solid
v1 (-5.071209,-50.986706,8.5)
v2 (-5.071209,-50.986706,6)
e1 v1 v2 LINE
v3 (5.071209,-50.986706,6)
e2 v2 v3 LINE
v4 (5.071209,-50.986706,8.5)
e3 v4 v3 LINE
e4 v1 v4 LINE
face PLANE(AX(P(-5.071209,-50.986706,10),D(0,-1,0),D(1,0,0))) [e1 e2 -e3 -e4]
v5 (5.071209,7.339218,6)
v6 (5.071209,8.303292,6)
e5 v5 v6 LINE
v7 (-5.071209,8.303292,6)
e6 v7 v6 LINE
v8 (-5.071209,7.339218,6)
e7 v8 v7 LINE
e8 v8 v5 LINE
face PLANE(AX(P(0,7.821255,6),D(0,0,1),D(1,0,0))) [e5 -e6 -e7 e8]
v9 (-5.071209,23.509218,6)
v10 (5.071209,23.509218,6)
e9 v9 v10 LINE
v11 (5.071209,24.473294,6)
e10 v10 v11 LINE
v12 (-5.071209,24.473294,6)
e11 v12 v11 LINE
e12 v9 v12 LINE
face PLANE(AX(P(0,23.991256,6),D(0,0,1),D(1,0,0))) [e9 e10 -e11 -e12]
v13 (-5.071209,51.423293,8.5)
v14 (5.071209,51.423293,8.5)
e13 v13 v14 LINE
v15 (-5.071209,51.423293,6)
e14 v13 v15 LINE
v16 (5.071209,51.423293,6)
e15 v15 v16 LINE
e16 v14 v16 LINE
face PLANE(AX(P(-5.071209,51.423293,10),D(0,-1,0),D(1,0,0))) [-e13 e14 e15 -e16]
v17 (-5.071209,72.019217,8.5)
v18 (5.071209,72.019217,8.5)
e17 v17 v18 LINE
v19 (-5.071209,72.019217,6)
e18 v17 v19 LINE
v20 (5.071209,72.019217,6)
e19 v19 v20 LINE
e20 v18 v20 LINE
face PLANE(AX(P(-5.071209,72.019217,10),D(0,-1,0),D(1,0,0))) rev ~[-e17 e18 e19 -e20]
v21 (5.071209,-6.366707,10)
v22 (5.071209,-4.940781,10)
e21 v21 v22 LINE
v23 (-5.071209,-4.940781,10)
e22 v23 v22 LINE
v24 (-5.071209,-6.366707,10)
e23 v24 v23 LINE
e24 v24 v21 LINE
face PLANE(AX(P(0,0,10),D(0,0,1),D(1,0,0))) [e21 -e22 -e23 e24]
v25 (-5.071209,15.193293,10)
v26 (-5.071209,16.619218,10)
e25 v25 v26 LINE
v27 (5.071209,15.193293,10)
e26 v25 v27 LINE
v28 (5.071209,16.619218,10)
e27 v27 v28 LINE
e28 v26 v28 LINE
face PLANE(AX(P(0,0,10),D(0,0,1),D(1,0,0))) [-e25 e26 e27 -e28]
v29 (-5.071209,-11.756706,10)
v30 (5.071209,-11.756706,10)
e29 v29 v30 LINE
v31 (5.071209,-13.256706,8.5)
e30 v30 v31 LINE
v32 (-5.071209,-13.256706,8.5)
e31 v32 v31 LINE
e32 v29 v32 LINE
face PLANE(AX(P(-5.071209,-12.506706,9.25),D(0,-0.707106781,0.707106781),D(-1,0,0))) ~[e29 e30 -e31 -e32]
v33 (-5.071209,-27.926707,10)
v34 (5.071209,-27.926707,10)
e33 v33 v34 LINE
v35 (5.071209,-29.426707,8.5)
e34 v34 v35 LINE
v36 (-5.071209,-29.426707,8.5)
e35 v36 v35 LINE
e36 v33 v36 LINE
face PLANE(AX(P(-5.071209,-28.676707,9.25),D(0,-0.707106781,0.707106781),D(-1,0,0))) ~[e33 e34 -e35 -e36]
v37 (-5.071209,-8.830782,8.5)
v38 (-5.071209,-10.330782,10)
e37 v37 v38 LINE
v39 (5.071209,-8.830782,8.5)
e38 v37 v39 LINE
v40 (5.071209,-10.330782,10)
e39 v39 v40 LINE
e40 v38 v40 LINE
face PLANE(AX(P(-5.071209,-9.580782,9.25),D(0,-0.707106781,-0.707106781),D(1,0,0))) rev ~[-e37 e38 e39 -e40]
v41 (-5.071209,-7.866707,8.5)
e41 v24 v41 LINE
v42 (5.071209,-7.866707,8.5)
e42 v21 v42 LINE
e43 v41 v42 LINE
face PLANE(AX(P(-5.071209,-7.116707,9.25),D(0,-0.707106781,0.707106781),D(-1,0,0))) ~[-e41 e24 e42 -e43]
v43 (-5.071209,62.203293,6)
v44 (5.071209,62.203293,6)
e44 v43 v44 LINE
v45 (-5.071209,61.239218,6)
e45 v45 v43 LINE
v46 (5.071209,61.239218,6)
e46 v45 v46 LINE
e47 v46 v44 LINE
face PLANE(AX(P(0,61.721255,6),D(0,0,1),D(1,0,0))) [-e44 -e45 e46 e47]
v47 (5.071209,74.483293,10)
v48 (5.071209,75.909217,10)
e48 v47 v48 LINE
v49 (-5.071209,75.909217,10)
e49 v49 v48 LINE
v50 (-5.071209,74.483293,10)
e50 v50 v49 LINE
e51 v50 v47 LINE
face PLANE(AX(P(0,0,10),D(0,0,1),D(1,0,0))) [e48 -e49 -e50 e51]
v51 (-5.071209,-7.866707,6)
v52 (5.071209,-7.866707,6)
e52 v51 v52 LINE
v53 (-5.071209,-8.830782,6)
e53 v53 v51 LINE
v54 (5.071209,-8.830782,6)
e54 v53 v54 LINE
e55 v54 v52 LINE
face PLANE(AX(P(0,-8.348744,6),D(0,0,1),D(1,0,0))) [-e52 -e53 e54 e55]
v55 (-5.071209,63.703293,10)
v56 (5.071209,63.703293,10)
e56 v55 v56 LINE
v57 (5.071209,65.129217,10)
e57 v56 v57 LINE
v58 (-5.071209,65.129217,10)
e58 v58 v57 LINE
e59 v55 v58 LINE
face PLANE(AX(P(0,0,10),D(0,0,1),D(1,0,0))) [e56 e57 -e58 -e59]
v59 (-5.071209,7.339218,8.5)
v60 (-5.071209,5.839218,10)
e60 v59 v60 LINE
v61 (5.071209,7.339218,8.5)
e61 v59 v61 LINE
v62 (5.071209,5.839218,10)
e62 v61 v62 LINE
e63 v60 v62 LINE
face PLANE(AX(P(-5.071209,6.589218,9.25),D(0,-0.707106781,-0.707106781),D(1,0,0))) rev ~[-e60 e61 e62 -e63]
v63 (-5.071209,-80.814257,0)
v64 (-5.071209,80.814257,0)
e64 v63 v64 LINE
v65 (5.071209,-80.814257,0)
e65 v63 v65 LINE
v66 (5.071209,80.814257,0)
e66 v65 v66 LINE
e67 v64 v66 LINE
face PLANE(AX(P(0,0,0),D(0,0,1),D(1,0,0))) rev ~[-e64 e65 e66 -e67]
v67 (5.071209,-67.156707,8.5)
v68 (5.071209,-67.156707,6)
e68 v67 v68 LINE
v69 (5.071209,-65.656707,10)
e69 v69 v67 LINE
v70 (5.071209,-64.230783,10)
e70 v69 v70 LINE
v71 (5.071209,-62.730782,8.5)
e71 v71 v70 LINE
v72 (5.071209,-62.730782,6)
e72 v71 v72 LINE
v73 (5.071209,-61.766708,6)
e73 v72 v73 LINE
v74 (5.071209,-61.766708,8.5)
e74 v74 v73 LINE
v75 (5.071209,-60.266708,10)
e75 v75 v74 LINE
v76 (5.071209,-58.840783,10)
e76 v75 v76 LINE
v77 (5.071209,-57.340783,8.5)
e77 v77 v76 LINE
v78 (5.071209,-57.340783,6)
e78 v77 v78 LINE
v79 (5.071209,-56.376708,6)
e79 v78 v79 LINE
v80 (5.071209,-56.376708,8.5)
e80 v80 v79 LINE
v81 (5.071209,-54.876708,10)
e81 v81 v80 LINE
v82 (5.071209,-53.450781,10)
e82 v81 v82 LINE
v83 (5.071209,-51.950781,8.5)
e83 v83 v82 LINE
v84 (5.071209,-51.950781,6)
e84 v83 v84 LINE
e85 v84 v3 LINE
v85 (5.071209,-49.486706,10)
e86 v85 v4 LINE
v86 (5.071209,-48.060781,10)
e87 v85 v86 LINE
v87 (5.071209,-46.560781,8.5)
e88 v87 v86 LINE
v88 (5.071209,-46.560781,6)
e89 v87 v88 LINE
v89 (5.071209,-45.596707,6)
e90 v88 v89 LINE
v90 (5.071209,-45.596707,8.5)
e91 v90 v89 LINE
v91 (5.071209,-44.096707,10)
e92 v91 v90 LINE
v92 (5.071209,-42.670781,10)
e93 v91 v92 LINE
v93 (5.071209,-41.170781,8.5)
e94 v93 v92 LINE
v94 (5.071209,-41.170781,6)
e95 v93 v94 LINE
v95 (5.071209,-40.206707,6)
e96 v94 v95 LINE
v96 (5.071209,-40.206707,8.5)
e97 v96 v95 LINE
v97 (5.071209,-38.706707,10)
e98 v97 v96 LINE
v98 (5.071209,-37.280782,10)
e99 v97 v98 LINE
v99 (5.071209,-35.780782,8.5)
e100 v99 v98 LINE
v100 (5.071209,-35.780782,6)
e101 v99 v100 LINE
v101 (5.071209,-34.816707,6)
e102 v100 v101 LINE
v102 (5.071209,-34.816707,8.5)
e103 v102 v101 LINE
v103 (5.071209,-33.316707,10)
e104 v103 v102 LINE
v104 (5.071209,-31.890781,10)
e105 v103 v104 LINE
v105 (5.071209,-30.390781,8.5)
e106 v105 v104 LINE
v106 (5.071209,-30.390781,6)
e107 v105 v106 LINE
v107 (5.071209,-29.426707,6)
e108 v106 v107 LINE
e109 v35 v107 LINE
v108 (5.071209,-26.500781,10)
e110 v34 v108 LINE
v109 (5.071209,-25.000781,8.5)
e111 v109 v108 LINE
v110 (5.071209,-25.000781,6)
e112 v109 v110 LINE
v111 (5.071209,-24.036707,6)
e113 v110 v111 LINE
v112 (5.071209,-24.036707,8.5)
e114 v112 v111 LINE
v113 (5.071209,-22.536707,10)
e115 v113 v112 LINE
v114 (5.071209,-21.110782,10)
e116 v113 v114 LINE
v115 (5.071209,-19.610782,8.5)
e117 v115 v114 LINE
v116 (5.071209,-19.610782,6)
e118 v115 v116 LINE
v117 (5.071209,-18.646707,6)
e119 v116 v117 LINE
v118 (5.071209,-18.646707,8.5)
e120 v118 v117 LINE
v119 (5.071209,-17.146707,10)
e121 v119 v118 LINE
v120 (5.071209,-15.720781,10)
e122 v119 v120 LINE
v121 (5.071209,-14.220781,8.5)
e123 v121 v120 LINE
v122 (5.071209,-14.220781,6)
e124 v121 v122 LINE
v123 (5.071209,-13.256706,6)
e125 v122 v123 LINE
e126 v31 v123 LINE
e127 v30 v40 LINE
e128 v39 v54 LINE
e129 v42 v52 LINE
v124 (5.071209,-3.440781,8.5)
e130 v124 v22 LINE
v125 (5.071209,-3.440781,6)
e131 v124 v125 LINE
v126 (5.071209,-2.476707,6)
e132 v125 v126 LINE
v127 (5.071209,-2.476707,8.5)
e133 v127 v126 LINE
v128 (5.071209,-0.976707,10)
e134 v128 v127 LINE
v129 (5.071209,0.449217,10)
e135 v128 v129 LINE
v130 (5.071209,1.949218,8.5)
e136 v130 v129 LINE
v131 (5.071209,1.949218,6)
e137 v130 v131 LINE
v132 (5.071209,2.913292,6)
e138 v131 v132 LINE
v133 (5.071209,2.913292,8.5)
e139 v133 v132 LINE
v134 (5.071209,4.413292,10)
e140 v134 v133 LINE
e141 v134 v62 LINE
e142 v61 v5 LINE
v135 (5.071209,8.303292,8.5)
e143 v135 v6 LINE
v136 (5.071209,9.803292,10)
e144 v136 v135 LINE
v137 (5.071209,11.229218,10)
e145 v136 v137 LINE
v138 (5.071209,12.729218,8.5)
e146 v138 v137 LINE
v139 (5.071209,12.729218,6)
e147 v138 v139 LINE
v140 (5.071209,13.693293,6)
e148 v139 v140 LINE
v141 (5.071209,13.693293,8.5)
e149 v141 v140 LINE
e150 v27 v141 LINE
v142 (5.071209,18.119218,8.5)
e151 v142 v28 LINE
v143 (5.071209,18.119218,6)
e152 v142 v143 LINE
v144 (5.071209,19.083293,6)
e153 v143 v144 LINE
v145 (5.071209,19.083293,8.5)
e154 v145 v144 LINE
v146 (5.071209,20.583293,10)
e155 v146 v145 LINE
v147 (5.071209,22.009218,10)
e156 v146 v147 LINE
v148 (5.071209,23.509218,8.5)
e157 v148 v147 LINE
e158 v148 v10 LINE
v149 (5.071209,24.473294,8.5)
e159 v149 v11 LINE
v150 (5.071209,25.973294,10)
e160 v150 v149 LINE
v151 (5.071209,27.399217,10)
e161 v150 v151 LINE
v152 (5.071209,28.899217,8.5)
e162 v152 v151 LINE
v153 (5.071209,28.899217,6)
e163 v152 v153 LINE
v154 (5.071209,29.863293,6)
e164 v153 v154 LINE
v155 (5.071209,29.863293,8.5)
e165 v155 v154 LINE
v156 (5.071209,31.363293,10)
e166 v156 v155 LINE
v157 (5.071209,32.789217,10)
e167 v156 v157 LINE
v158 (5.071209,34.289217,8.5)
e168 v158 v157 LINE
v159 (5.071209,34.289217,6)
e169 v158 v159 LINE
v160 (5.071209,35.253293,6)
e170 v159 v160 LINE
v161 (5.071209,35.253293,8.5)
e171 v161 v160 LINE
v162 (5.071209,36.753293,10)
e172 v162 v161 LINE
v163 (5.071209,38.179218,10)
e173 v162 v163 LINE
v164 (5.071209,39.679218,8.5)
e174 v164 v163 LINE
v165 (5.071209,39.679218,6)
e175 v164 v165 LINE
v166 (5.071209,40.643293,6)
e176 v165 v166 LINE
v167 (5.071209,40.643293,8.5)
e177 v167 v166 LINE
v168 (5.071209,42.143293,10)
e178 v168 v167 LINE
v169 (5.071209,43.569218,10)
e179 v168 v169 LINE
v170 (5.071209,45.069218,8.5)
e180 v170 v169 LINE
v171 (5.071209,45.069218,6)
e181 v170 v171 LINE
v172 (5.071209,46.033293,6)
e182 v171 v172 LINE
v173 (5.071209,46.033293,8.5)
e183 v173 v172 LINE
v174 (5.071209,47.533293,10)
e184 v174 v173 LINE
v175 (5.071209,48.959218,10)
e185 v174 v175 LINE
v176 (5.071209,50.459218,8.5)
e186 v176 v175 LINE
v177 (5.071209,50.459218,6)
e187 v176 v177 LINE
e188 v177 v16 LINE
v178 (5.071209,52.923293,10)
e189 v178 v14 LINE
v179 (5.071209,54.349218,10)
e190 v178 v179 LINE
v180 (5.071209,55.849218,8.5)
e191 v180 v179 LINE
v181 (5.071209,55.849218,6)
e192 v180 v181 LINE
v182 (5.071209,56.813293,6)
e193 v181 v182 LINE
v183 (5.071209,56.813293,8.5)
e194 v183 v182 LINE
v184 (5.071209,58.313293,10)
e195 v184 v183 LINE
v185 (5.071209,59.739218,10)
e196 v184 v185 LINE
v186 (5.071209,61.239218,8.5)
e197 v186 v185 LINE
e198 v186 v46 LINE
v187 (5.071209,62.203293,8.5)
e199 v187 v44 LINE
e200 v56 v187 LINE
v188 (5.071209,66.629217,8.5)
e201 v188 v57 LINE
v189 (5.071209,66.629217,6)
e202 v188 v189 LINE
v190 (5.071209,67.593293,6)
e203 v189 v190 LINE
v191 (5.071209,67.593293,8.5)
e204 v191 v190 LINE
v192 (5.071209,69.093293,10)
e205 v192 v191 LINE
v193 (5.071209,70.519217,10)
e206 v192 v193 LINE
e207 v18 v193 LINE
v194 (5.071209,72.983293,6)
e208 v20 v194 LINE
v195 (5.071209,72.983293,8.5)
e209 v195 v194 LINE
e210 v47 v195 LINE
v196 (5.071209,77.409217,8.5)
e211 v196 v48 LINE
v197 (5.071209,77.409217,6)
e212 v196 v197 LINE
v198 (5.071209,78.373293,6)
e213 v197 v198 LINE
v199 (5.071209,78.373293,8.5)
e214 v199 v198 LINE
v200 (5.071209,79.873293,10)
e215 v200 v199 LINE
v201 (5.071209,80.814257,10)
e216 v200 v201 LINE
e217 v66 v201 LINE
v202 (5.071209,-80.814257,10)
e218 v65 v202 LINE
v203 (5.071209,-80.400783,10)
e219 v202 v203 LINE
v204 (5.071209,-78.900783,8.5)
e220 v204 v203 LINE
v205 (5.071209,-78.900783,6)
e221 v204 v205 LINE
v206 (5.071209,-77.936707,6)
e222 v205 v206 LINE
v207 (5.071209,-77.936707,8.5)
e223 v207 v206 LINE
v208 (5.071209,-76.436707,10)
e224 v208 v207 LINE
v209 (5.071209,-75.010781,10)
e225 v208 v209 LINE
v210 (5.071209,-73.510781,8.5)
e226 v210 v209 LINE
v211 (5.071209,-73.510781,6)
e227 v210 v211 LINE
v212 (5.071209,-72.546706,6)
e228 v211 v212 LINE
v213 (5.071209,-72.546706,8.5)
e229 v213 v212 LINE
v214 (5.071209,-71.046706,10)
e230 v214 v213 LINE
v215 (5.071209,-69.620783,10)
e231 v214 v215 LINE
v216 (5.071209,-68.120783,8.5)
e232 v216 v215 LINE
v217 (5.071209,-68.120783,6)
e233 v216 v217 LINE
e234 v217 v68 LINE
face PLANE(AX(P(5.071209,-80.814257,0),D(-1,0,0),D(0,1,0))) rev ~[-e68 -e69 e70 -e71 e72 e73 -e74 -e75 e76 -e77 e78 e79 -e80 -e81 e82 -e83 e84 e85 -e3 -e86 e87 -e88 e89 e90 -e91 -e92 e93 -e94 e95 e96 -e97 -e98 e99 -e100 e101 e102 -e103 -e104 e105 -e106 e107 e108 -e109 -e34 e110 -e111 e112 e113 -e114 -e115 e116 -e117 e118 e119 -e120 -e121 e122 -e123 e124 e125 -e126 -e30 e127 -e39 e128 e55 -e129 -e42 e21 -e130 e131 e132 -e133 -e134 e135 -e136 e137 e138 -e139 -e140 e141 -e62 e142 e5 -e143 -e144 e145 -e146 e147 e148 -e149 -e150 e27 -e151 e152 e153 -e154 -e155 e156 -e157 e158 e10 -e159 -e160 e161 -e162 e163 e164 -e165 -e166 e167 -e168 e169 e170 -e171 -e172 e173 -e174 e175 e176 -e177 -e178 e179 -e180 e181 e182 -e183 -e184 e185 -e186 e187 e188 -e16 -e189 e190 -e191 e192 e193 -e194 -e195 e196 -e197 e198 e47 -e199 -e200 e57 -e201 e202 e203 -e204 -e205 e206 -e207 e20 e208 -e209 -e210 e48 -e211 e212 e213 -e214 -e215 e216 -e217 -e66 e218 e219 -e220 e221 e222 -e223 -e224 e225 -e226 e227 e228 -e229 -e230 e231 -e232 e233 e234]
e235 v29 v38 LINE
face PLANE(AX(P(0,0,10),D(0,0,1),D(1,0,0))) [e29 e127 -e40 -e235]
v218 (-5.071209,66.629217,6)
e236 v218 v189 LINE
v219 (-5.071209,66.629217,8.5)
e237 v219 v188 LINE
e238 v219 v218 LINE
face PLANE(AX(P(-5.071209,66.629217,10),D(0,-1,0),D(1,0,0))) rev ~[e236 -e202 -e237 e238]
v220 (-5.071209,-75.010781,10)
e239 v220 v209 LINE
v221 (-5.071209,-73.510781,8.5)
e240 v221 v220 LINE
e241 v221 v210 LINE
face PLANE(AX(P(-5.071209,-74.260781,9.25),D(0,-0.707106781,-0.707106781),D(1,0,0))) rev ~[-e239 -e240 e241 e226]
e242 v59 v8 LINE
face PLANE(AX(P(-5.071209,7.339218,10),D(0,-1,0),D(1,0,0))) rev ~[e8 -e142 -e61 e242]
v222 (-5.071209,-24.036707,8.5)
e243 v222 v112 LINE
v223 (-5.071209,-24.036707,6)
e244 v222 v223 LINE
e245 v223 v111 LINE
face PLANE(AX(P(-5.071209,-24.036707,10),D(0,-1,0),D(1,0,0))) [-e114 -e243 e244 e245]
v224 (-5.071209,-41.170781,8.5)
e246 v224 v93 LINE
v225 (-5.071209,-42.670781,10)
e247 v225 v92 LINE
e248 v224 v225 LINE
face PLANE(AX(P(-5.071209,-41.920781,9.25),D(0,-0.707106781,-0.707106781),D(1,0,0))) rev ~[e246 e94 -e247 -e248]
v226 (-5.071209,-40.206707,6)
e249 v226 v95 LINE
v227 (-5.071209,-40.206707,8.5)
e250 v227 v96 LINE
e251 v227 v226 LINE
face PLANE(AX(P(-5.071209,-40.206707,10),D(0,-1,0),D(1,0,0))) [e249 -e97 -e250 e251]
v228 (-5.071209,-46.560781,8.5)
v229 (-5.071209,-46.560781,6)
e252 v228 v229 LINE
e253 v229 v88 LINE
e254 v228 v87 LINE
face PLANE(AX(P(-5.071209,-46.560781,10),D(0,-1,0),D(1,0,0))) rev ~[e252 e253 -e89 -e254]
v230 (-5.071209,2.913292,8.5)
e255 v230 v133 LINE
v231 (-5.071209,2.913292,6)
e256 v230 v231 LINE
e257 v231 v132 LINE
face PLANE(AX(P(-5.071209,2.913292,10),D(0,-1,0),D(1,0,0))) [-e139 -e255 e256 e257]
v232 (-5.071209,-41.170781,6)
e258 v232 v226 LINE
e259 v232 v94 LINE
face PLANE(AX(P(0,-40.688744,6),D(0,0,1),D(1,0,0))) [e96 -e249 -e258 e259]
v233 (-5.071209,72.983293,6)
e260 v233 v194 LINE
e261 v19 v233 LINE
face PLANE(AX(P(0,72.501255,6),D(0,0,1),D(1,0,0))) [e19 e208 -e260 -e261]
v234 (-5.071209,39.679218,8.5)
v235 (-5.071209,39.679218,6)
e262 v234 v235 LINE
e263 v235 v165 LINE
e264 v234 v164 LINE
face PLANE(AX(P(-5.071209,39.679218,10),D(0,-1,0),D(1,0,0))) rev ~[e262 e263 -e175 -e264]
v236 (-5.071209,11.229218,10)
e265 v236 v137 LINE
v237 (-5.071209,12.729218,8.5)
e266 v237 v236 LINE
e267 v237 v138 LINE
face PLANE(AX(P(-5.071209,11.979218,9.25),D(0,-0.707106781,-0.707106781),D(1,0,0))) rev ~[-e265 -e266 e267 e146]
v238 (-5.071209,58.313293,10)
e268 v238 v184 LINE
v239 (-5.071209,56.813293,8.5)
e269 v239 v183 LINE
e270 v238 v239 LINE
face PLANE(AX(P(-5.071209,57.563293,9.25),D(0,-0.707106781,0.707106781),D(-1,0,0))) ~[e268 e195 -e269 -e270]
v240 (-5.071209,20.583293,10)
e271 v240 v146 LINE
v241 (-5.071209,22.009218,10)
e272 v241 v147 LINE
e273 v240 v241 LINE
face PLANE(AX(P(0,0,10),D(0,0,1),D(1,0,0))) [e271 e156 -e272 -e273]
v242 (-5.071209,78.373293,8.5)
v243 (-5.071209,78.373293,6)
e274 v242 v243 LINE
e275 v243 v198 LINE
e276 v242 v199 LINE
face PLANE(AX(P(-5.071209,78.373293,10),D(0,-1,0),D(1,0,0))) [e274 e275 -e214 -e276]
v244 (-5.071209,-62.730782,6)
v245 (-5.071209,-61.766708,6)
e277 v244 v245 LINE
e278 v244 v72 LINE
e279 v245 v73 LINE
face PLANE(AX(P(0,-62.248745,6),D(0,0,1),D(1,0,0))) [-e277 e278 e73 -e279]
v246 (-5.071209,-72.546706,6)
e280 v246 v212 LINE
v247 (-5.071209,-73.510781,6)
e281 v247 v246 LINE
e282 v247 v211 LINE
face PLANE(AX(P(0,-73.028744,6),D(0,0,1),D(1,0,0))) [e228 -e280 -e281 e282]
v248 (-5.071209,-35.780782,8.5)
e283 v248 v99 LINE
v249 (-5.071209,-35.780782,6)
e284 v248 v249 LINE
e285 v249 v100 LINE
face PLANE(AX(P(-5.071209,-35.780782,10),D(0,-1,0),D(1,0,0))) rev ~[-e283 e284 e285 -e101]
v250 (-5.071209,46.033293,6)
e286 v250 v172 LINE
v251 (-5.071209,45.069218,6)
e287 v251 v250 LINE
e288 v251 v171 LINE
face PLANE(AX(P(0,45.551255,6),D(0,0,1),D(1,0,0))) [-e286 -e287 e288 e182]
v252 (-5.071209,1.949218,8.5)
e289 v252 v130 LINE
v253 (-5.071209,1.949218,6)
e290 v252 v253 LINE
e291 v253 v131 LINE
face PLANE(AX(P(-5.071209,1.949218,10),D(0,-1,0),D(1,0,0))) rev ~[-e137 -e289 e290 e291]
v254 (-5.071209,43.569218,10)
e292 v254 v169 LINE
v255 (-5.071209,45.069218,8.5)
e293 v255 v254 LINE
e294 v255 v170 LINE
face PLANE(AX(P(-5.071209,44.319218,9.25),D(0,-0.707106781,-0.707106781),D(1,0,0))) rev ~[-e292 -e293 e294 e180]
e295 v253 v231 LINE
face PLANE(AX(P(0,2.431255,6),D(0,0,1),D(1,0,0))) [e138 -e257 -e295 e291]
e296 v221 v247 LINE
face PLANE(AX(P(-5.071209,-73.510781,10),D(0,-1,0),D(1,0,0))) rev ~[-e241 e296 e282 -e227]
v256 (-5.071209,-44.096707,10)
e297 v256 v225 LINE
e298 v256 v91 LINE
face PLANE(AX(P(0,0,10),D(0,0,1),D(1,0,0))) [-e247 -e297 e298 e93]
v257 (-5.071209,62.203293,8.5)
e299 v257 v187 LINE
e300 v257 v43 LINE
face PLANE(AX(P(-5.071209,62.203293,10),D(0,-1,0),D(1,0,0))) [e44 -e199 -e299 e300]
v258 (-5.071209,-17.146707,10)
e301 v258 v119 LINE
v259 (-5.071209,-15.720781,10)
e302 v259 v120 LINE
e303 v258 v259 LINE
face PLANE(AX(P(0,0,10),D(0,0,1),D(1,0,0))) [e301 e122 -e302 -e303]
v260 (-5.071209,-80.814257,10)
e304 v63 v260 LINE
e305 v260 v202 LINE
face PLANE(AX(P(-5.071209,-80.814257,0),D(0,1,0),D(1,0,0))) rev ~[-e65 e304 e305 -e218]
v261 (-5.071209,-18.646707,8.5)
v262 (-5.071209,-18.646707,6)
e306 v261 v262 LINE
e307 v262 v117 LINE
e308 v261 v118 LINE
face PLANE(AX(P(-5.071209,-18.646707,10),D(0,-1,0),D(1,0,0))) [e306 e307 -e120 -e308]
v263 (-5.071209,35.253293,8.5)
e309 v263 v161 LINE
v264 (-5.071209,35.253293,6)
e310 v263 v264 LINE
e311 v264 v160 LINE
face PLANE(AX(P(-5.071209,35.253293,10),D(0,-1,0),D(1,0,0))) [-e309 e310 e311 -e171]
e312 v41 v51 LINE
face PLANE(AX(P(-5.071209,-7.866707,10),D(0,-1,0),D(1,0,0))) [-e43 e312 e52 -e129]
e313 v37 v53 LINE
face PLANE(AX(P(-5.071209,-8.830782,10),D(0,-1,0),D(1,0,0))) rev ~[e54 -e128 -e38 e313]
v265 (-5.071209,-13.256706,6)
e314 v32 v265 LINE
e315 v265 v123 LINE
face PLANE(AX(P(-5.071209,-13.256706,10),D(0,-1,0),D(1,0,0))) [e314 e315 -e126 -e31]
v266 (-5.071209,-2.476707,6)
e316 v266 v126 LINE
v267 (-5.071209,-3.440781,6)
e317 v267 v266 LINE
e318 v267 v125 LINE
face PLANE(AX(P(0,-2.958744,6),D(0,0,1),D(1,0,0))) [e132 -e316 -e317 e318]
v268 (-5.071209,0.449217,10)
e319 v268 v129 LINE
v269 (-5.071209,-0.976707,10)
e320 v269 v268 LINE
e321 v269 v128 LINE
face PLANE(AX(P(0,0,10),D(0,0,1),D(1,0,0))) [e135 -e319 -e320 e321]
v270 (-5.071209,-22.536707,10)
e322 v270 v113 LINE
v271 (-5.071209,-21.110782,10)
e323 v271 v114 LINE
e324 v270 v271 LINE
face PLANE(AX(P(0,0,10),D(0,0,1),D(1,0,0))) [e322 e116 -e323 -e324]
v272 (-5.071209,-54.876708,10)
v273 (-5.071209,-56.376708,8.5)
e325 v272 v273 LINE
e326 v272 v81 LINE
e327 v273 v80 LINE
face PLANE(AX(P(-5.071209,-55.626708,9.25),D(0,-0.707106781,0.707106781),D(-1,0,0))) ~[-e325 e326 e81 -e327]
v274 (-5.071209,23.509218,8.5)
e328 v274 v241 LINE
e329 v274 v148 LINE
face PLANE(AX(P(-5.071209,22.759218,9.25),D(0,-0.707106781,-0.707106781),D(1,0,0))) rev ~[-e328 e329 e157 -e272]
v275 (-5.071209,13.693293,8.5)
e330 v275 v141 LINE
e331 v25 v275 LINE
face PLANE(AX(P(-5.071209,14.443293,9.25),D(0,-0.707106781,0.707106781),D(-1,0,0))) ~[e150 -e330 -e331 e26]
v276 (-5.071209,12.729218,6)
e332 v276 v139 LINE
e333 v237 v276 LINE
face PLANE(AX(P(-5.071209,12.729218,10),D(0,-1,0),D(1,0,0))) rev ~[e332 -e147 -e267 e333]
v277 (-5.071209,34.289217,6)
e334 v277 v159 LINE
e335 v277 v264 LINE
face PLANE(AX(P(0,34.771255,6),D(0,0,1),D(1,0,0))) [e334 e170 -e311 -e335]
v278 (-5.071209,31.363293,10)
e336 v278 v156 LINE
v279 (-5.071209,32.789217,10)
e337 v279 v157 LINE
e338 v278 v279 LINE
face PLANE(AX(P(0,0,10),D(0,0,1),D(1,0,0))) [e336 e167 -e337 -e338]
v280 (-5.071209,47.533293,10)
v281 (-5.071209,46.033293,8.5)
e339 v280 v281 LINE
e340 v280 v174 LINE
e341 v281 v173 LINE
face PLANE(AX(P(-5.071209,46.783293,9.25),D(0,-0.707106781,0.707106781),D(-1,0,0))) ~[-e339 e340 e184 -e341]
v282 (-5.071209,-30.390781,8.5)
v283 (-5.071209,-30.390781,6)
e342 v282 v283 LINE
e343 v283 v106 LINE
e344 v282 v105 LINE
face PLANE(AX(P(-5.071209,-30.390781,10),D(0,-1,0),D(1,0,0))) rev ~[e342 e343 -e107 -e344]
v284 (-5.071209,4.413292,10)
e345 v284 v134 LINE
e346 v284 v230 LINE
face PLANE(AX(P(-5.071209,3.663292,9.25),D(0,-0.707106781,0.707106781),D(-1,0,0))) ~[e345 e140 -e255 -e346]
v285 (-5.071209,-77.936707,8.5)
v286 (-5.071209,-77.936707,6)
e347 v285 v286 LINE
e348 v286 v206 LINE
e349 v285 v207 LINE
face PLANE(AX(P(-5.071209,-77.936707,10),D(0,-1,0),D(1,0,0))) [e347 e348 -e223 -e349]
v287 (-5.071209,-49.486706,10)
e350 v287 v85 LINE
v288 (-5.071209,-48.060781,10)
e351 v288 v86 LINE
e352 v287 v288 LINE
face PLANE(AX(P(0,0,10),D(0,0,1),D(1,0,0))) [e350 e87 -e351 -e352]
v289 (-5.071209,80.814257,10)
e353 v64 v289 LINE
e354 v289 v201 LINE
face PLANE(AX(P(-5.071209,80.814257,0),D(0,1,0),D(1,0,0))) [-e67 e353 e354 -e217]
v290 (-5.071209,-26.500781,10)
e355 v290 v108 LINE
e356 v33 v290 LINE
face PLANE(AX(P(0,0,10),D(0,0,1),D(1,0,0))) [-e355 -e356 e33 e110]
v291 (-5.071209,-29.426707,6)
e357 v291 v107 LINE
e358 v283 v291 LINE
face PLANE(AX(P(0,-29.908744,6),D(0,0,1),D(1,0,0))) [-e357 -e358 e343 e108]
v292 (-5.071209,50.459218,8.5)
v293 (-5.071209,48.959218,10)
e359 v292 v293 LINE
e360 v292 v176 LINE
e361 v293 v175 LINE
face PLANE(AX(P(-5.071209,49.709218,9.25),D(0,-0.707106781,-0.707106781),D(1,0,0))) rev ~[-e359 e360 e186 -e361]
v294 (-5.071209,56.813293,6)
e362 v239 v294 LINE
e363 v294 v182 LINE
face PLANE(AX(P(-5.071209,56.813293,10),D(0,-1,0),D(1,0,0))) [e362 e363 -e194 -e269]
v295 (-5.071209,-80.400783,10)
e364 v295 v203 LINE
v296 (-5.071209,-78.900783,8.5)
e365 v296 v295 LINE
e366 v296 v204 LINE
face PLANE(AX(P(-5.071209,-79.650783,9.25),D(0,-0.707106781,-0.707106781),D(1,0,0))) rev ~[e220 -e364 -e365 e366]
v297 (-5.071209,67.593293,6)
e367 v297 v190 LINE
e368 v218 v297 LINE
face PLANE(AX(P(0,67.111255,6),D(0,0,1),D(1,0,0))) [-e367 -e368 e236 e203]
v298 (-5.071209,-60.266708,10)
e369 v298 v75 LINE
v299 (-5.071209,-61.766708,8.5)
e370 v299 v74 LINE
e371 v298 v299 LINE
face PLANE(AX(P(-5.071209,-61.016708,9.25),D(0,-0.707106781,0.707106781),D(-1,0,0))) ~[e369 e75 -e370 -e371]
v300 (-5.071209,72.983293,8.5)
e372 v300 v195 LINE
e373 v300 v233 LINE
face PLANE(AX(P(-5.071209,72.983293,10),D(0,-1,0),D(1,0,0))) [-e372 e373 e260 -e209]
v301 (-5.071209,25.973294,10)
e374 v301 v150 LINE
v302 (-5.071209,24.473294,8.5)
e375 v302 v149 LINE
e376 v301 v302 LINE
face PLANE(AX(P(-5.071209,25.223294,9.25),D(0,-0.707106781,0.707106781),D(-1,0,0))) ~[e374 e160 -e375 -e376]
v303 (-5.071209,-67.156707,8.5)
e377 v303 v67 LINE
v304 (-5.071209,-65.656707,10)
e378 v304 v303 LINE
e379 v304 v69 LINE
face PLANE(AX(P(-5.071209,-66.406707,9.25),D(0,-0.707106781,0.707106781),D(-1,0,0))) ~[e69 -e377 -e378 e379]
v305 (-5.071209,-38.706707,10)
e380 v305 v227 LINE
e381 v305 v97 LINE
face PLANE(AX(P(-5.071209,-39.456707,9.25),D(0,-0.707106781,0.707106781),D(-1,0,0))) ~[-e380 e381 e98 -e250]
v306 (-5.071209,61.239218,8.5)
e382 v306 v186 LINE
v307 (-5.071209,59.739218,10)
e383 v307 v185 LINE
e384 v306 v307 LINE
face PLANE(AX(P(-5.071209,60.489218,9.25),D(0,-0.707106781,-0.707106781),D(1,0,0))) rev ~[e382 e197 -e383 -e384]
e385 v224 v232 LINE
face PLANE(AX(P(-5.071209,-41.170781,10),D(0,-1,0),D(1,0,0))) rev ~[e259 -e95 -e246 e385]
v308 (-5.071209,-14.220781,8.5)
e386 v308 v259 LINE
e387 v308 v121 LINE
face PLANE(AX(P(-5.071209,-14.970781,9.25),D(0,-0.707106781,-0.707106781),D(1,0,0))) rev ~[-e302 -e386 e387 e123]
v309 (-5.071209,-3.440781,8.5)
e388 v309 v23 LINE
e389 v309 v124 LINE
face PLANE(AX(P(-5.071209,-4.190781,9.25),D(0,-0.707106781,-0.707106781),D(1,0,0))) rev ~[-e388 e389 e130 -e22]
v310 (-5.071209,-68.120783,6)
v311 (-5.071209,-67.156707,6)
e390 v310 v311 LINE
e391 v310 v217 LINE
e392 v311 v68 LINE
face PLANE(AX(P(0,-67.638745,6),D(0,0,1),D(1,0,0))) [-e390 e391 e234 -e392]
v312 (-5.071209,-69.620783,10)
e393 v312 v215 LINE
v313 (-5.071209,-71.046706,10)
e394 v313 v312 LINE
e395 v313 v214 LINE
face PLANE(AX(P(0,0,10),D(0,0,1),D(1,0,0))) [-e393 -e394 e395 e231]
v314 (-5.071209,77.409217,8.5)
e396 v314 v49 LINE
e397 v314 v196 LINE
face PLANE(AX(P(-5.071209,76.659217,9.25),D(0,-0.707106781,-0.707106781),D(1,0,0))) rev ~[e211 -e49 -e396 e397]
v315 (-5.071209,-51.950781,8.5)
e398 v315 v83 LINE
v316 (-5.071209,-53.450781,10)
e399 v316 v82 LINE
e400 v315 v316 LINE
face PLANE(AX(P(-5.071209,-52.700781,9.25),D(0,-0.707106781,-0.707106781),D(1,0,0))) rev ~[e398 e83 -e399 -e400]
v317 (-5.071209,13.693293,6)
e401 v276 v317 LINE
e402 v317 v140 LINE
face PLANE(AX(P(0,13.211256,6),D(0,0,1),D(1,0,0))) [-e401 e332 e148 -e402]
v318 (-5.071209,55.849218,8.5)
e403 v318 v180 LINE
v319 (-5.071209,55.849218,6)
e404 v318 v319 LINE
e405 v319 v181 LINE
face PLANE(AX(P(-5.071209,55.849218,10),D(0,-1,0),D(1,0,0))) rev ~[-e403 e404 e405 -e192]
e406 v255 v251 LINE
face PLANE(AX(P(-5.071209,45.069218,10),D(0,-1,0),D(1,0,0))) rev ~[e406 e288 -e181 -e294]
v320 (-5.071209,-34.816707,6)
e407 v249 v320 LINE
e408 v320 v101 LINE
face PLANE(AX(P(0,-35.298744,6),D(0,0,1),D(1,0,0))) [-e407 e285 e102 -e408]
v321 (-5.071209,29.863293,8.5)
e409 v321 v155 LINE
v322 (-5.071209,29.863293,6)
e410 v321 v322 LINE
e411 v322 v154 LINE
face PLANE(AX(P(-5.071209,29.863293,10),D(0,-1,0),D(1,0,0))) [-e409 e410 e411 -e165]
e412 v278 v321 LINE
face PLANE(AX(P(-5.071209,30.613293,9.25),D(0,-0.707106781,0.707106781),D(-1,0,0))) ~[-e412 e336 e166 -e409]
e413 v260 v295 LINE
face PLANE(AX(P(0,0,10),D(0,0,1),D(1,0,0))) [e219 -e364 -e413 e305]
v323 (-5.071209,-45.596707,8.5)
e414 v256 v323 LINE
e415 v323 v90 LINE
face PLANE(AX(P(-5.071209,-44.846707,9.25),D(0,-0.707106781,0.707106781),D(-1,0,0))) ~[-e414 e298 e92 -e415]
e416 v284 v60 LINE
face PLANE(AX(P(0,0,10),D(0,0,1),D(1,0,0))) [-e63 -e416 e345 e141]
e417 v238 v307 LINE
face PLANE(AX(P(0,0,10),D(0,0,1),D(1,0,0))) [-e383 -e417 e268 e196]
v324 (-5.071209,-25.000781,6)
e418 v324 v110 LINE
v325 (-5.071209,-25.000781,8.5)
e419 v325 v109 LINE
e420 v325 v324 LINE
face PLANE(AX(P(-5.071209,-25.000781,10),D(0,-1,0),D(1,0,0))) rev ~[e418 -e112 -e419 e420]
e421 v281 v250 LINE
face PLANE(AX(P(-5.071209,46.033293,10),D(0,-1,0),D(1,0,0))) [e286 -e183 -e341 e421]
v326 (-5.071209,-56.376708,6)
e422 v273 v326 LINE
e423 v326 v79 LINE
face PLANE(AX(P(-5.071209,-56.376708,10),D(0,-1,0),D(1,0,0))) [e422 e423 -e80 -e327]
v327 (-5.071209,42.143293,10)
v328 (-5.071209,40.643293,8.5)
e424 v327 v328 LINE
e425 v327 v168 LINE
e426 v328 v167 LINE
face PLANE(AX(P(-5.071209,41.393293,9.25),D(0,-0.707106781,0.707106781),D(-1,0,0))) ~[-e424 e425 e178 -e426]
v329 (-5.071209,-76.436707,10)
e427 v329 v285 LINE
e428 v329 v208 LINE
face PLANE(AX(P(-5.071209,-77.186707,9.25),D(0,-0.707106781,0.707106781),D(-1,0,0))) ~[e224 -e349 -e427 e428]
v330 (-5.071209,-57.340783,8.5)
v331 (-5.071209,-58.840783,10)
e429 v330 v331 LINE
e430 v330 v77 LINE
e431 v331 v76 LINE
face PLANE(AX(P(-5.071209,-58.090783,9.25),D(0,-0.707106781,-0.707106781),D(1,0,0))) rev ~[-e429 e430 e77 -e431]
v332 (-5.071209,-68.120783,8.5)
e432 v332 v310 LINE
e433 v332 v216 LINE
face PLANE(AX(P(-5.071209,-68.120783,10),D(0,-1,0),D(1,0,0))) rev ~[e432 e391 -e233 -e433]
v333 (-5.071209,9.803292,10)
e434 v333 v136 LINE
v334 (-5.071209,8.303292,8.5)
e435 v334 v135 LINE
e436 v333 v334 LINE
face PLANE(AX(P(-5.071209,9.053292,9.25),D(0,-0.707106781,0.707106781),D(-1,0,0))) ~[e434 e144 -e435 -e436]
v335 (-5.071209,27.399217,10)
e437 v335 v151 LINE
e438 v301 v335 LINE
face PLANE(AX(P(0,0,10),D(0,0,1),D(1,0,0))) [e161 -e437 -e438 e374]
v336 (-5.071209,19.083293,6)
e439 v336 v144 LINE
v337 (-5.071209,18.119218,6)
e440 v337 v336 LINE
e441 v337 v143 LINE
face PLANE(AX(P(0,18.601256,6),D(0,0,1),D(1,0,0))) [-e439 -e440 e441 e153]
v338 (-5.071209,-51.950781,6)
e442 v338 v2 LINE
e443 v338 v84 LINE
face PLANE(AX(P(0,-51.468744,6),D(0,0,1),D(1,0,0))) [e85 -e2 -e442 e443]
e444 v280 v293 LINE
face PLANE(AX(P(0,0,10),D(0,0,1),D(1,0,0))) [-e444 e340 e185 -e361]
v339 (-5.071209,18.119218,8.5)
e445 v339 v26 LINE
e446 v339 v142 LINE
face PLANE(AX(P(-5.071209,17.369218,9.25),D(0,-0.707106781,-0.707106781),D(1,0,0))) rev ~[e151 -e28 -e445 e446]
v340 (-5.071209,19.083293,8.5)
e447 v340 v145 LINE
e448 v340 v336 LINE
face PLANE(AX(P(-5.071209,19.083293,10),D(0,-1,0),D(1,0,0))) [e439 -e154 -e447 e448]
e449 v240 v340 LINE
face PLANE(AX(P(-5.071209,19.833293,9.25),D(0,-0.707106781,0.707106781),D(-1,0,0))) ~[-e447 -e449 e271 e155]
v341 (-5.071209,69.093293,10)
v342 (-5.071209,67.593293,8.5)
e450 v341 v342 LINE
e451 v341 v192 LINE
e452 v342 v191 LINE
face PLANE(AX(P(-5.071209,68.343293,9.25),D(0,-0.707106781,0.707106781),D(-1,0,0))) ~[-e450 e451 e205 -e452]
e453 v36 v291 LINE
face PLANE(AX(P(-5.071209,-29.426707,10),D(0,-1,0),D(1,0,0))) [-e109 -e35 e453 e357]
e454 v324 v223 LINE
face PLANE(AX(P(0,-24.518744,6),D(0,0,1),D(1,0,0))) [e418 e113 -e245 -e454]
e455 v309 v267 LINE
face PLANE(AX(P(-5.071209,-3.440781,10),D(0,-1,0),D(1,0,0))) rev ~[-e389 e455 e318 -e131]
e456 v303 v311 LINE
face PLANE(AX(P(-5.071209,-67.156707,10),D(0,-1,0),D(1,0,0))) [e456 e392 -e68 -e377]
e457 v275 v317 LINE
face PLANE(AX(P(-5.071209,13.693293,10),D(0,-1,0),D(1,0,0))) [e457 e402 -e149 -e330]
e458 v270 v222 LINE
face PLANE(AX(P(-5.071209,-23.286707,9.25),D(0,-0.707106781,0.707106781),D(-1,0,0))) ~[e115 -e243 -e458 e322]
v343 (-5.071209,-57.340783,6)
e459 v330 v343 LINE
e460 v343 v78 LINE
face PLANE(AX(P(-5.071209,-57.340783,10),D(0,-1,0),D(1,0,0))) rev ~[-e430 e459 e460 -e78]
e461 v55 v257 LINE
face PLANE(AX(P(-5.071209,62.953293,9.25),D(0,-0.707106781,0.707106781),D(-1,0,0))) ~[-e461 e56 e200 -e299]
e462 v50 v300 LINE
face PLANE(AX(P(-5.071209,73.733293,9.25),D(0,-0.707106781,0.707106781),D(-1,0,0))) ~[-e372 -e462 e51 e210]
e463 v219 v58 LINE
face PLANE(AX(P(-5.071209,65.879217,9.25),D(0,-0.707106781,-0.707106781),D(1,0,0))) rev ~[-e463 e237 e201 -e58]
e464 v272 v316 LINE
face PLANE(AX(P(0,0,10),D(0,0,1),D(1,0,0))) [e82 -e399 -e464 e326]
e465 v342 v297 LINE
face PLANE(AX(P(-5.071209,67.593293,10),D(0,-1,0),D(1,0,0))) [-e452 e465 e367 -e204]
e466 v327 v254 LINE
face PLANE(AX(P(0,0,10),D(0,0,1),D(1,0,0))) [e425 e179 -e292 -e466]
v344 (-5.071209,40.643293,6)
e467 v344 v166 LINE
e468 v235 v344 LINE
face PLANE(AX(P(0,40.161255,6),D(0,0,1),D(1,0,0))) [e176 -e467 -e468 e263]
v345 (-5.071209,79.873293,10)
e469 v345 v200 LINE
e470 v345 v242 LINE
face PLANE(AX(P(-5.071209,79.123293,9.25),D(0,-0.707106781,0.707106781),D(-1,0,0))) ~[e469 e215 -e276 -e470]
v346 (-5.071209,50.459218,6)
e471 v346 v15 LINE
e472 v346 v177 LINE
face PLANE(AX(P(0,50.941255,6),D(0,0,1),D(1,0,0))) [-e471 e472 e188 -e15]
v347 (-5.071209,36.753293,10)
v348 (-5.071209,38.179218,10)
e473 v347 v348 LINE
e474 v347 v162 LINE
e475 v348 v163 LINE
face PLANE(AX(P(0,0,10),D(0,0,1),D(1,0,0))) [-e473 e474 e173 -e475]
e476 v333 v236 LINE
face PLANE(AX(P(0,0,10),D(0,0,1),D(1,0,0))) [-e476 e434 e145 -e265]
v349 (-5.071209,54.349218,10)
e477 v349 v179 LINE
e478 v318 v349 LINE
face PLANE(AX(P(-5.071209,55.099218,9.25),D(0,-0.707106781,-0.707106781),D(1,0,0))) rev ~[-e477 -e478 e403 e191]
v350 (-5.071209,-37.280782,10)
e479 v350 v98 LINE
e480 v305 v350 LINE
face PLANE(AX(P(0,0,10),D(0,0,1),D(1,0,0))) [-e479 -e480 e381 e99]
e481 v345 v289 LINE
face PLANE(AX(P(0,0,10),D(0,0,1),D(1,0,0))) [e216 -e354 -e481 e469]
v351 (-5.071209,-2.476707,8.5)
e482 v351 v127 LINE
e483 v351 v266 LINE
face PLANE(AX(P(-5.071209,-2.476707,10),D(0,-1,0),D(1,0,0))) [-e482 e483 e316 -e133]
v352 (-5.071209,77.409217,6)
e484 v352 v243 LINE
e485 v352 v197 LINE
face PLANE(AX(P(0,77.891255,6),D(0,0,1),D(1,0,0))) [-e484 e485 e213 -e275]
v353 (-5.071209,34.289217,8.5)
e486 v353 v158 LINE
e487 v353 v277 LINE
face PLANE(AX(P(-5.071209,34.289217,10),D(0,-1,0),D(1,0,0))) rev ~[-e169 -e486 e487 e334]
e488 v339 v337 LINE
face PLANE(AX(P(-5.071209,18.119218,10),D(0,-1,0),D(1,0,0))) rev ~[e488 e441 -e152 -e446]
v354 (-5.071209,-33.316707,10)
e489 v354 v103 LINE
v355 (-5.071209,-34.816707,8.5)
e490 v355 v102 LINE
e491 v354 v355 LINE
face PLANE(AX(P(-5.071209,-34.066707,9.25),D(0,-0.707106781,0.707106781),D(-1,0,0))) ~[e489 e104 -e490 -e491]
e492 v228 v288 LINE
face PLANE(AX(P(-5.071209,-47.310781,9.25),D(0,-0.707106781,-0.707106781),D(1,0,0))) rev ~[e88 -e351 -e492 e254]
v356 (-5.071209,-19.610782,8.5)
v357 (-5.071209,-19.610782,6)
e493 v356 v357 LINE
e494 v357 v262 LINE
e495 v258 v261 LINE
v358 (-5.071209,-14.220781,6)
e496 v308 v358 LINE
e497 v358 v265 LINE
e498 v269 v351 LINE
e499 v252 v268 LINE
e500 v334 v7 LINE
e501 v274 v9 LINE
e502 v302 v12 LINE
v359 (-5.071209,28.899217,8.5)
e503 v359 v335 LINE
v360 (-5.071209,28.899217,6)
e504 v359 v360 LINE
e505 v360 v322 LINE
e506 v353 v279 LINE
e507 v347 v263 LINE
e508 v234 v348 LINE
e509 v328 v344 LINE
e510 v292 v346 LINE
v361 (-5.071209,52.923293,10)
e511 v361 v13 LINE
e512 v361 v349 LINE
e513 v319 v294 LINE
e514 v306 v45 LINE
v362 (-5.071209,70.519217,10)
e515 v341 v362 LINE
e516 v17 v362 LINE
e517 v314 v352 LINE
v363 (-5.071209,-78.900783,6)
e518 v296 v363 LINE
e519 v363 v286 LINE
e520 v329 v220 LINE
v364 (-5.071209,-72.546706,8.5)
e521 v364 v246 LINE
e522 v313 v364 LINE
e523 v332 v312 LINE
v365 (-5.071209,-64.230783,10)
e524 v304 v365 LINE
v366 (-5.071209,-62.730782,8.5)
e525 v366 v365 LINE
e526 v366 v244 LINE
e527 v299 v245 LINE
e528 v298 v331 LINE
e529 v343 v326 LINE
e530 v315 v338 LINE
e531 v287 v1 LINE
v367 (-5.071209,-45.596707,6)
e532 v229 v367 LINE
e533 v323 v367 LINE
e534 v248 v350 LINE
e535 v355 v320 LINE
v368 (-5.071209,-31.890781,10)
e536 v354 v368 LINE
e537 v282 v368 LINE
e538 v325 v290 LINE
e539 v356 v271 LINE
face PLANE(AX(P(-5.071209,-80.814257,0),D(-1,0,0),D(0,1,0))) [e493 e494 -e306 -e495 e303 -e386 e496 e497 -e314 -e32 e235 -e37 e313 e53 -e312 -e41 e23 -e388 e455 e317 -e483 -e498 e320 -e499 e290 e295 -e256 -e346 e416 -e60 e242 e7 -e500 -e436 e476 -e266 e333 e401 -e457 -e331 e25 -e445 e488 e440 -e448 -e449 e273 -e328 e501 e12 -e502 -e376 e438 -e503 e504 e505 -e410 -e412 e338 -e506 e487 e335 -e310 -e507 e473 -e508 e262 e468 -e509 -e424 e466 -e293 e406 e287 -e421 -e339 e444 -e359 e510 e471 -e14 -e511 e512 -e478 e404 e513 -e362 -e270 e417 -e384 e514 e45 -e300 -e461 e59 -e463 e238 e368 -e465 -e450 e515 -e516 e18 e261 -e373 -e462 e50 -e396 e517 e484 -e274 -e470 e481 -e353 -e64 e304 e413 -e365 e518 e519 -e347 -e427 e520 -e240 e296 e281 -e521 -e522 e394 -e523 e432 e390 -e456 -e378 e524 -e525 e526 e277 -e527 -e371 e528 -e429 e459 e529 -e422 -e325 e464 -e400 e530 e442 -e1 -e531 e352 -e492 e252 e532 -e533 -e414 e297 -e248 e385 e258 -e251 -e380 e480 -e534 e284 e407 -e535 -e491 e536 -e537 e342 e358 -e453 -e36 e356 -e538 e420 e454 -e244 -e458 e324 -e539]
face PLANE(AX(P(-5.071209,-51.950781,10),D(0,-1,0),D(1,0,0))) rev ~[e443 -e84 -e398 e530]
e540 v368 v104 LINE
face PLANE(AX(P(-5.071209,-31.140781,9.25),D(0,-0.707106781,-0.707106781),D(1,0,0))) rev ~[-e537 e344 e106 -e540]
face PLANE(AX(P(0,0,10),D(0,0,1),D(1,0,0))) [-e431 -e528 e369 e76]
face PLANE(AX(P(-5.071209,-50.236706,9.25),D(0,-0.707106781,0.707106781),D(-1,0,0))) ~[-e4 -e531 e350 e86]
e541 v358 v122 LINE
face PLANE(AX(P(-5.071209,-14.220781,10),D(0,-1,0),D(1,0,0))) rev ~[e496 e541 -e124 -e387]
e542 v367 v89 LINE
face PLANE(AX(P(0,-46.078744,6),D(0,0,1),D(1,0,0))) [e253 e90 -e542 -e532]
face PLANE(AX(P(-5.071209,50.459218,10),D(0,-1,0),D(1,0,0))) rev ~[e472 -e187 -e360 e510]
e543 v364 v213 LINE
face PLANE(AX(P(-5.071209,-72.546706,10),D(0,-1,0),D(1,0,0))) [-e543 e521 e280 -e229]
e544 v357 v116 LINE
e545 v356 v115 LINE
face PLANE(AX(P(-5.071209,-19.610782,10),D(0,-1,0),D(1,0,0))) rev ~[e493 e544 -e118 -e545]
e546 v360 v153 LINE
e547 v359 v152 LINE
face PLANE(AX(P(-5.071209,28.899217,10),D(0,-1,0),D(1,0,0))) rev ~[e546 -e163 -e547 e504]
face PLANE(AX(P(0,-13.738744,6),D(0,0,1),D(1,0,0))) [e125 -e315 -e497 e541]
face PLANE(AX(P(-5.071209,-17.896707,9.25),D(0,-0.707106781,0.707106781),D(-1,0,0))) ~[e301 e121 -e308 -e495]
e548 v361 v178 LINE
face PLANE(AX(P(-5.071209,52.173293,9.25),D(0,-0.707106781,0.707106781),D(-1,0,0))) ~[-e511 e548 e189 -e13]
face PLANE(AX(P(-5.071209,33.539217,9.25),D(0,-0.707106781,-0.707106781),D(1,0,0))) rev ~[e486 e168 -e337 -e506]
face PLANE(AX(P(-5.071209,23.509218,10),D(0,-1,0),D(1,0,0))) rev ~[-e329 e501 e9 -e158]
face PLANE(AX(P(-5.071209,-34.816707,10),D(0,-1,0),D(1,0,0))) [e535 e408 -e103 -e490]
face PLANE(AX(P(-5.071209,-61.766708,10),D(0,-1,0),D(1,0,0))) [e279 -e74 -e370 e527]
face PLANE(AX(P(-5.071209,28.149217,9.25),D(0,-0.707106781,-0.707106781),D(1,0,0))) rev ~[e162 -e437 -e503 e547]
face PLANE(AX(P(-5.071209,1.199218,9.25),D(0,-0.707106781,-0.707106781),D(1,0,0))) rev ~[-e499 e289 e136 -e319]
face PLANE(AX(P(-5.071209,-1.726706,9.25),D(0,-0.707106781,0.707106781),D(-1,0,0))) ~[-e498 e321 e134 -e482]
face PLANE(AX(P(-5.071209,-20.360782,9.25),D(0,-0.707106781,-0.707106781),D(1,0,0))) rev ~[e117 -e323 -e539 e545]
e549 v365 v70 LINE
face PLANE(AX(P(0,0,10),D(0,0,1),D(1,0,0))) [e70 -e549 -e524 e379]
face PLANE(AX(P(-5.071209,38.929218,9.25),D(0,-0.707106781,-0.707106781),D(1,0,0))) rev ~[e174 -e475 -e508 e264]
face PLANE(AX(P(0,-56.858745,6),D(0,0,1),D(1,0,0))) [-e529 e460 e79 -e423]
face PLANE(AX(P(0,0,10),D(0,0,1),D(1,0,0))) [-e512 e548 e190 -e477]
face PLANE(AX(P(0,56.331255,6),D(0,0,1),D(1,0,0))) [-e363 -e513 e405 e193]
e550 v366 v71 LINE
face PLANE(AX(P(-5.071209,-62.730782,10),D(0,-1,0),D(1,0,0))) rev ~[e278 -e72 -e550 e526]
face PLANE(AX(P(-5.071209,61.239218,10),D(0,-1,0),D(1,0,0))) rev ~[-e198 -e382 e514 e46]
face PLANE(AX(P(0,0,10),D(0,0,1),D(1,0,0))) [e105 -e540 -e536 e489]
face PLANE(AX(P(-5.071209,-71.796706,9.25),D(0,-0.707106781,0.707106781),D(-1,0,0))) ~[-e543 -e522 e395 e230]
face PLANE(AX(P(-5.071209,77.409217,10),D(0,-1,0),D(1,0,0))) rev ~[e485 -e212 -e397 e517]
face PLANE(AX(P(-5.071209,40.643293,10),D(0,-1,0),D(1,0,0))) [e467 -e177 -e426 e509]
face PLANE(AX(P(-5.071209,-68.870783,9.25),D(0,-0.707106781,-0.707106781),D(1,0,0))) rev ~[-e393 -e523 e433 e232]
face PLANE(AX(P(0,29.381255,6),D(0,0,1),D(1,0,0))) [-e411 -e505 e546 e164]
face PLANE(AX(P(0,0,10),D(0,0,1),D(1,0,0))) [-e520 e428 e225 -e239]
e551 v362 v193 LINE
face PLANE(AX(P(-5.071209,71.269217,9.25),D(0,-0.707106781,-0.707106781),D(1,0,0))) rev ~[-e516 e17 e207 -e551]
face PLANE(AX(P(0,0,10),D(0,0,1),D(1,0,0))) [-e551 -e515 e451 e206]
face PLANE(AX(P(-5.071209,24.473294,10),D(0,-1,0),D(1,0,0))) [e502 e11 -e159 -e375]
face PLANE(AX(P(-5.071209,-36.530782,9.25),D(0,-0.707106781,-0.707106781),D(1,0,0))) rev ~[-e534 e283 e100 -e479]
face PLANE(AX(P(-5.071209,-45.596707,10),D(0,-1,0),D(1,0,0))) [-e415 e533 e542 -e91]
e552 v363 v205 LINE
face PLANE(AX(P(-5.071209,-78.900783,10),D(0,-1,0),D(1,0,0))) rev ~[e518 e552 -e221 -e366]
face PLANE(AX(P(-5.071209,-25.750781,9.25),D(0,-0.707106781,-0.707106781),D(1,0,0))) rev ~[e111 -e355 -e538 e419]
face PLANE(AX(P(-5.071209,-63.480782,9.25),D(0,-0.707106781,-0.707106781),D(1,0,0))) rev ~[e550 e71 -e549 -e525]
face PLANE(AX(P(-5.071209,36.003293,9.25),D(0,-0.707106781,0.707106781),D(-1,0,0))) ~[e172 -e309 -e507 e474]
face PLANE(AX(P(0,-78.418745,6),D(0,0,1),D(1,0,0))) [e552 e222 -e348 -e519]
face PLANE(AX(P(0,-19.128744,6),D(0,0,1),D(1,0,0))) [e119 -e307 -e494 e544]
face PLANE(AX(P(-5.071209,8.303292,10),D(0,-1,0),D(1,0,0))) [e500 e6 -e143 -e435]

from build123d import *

# Parameters (mm, degrees)
F0_W     = 10.142418
F0_H     = 161.628514
F1_DEPTH = 10
F2_W     = 10.142418
F2_H     = 0.964075
F3_DEPTH = 4
F4_SIZE  = 1.5


with BuildPart() as f1:
    # F0 (on Top) → F1 (new body)
    with BuildSketch(Plane.XY):
        Rectangle(F0_W, F0_H)
    extrude(amount=F1_DEPTH)

    # F2 (on face) → F3 (cut)
    with BuildSketch(Plane.XY.offset(10)):
        with Locations((0, -78.418745)):
            Rectangle(F2_W, F2_H)
        with Locations((0, -73.028744)):
            Rectangle(F2_W, F2_H)
        with Locations((0, -67.638745)):
            Rectangle(F2_W, F2_H)
        with Locations((0, -62.248745)):
            Rectangle(F2_W, F2_H)
        with Locations((0, -56.858745)):
            Rectangle(F2_W, F2_H)
        with Locations((0, -51.468744)):
            Rectangle(F2_W, F2_H)
        with Locations((0, -46.078744)):
            Rectangle(F2_W, F2_H)
        with Locations((0, -40.688744)):
            Rectangle(F2_W, F2_H)
        with Locations((0, -35.298744)):
            Rectangle(F2_W, F2_H)
        with Locations((0, -29.908744)):
            Rectangle(F2_W, F2_H)
        with Locations((0, -24.518744)):
            Rectangle(F2_W, F2_H)
        with Locations((0, -19.128744)):
            Rectangle(F2_W, F2_H)
        with Locations((0, -13.738744)):
            Rectangle(F2_W, F2_H)
        with Locations((0, -8.348744)):
            Rectangle(F2_W, F2_H)
        with Locations((0, -2.958744)):
            Rectangle(F2_W, F2_H)
        with Locations((0, 2.431255)):
            Rectangle(F2_W, F2_H)
        with Locations((0, 7.821255)):
            Rectangle(F2_W, F2_H)
        with Locations((0, 13.211256)):
            Rectangle(F2_W, F2_H)
        with Locations((0, 18.601256)):
            Rectangle(F2_W, F2_H)
        with Locations((0, 23.991256)):
            Rectangle(F2_W, F2_H)
        with Locations((0, 29.381255)):
            Rectangle(F2_W, F2_H)
        with Locations((0, 34.771255)):
            Rectangle(F2_W, F2_H)
        with Locations((0, 40.161255)):
            Rectangle(F2_W, F2_H)
        with Locations((0, 45.551255)):
            Rectangle(F2_W, F2_H)
        with Locations((0, 50.941255)):
            Rectangle(F2_W, F2_H)
        with Locations((0, 56.331255)):
            Rectangle(F2_W, F2_H)
        with Locations((0, 61.721255)):
            Rectangle(F2_W, F2_H)
        with Locations((0, 67.111255)):
            Rectangle(F2_W, F2_H)
        with Locations((0, 72.501255)):
            Rectangle(F2_W, F2_H)
        with Locations((0, 77.891255)):
            Rectangle(F2_W, F2_H)
    extrude(amount=-F3_DEPTH, mode=Mode.SUBTRACT)

    # F4
    f4_edges = [f1.edges().sort_by_distance(p)[0] for p in [
        (0, -50.986707, 10),
        (0, -51.950782, 10),
        (0, -57.340782, 10),
        (0, -56.376707, 10),
        (0, -61.766707, 10),
        (0, -62.730782, 10),
        (0, -67.156707, 10),
        (0, -68.120782, 10),
        (0, -72.546707, 10),
        (0, -73.510782, 10),
        (0, -77.936707, 10),
        (0, -78.900782, 10),
        (0, -46.560782, 10),
        (0, -45.596707, 10),
        (0, -41.170782, 10),
        (0, -40.206707, 10),
        (0, -35.780782, 10),
        (0, -34.816707, 10),
        (0, -30.390782, 10),
        (0, -25.000782, 10),
        (0, -24.036707, 10),
        (0, -19.610782, 10),
        (0, -18.646707, 10),
        (0, -14.220782, 10),
        (0, -13.256707, 10),
        (0, -8.830782, 10),
        (0, -7.866707, 10),
        (0, -3.440782, 10),
        (0, -2.476707, 10),
        (0, 1.949218, 10),
        (0, 2.913293, 10),
        (0, 7.339218, 10),
        (0, 8.303293, 10),
        (0, 12.729218, 10),
        (0, 13.693293, 10),
        (0, 18.119218, 10),
        (0, 19.083293, 10),
        (0, 23.509218, 10),
        (0, 29.863293, 10),
        (0, 28.899218, 10),
        (0, 24.473293, 10),
        (0, 34.289218, 10),
        (0, 35.253293, 10),
        (0, 39.679218, 10),
        (0, 40.643293, 10),
        (0, 45.069218, 10),
        (0, 46.033293, 10),
        (0, 50.459218, 10),
        (0, 78.373293, 10),
        (0, 77.409218, 10),
        (0, 72.983293, 10),
        (0, 72.019218, 10),
        (0, 67.593293, 10),
        (0, 66.629218, 10),
        (0, 62.203293, 10),
        (0, 61.239218, 10),
        (0, 56.813293, 10),
        (0, 55.849218, 10),
        (0, 51.423293, 10),
        (0, -29.426707, 10),
    ]]
    chamfer(f4_edges, length=F4_SIZE)


solid = f1.part
